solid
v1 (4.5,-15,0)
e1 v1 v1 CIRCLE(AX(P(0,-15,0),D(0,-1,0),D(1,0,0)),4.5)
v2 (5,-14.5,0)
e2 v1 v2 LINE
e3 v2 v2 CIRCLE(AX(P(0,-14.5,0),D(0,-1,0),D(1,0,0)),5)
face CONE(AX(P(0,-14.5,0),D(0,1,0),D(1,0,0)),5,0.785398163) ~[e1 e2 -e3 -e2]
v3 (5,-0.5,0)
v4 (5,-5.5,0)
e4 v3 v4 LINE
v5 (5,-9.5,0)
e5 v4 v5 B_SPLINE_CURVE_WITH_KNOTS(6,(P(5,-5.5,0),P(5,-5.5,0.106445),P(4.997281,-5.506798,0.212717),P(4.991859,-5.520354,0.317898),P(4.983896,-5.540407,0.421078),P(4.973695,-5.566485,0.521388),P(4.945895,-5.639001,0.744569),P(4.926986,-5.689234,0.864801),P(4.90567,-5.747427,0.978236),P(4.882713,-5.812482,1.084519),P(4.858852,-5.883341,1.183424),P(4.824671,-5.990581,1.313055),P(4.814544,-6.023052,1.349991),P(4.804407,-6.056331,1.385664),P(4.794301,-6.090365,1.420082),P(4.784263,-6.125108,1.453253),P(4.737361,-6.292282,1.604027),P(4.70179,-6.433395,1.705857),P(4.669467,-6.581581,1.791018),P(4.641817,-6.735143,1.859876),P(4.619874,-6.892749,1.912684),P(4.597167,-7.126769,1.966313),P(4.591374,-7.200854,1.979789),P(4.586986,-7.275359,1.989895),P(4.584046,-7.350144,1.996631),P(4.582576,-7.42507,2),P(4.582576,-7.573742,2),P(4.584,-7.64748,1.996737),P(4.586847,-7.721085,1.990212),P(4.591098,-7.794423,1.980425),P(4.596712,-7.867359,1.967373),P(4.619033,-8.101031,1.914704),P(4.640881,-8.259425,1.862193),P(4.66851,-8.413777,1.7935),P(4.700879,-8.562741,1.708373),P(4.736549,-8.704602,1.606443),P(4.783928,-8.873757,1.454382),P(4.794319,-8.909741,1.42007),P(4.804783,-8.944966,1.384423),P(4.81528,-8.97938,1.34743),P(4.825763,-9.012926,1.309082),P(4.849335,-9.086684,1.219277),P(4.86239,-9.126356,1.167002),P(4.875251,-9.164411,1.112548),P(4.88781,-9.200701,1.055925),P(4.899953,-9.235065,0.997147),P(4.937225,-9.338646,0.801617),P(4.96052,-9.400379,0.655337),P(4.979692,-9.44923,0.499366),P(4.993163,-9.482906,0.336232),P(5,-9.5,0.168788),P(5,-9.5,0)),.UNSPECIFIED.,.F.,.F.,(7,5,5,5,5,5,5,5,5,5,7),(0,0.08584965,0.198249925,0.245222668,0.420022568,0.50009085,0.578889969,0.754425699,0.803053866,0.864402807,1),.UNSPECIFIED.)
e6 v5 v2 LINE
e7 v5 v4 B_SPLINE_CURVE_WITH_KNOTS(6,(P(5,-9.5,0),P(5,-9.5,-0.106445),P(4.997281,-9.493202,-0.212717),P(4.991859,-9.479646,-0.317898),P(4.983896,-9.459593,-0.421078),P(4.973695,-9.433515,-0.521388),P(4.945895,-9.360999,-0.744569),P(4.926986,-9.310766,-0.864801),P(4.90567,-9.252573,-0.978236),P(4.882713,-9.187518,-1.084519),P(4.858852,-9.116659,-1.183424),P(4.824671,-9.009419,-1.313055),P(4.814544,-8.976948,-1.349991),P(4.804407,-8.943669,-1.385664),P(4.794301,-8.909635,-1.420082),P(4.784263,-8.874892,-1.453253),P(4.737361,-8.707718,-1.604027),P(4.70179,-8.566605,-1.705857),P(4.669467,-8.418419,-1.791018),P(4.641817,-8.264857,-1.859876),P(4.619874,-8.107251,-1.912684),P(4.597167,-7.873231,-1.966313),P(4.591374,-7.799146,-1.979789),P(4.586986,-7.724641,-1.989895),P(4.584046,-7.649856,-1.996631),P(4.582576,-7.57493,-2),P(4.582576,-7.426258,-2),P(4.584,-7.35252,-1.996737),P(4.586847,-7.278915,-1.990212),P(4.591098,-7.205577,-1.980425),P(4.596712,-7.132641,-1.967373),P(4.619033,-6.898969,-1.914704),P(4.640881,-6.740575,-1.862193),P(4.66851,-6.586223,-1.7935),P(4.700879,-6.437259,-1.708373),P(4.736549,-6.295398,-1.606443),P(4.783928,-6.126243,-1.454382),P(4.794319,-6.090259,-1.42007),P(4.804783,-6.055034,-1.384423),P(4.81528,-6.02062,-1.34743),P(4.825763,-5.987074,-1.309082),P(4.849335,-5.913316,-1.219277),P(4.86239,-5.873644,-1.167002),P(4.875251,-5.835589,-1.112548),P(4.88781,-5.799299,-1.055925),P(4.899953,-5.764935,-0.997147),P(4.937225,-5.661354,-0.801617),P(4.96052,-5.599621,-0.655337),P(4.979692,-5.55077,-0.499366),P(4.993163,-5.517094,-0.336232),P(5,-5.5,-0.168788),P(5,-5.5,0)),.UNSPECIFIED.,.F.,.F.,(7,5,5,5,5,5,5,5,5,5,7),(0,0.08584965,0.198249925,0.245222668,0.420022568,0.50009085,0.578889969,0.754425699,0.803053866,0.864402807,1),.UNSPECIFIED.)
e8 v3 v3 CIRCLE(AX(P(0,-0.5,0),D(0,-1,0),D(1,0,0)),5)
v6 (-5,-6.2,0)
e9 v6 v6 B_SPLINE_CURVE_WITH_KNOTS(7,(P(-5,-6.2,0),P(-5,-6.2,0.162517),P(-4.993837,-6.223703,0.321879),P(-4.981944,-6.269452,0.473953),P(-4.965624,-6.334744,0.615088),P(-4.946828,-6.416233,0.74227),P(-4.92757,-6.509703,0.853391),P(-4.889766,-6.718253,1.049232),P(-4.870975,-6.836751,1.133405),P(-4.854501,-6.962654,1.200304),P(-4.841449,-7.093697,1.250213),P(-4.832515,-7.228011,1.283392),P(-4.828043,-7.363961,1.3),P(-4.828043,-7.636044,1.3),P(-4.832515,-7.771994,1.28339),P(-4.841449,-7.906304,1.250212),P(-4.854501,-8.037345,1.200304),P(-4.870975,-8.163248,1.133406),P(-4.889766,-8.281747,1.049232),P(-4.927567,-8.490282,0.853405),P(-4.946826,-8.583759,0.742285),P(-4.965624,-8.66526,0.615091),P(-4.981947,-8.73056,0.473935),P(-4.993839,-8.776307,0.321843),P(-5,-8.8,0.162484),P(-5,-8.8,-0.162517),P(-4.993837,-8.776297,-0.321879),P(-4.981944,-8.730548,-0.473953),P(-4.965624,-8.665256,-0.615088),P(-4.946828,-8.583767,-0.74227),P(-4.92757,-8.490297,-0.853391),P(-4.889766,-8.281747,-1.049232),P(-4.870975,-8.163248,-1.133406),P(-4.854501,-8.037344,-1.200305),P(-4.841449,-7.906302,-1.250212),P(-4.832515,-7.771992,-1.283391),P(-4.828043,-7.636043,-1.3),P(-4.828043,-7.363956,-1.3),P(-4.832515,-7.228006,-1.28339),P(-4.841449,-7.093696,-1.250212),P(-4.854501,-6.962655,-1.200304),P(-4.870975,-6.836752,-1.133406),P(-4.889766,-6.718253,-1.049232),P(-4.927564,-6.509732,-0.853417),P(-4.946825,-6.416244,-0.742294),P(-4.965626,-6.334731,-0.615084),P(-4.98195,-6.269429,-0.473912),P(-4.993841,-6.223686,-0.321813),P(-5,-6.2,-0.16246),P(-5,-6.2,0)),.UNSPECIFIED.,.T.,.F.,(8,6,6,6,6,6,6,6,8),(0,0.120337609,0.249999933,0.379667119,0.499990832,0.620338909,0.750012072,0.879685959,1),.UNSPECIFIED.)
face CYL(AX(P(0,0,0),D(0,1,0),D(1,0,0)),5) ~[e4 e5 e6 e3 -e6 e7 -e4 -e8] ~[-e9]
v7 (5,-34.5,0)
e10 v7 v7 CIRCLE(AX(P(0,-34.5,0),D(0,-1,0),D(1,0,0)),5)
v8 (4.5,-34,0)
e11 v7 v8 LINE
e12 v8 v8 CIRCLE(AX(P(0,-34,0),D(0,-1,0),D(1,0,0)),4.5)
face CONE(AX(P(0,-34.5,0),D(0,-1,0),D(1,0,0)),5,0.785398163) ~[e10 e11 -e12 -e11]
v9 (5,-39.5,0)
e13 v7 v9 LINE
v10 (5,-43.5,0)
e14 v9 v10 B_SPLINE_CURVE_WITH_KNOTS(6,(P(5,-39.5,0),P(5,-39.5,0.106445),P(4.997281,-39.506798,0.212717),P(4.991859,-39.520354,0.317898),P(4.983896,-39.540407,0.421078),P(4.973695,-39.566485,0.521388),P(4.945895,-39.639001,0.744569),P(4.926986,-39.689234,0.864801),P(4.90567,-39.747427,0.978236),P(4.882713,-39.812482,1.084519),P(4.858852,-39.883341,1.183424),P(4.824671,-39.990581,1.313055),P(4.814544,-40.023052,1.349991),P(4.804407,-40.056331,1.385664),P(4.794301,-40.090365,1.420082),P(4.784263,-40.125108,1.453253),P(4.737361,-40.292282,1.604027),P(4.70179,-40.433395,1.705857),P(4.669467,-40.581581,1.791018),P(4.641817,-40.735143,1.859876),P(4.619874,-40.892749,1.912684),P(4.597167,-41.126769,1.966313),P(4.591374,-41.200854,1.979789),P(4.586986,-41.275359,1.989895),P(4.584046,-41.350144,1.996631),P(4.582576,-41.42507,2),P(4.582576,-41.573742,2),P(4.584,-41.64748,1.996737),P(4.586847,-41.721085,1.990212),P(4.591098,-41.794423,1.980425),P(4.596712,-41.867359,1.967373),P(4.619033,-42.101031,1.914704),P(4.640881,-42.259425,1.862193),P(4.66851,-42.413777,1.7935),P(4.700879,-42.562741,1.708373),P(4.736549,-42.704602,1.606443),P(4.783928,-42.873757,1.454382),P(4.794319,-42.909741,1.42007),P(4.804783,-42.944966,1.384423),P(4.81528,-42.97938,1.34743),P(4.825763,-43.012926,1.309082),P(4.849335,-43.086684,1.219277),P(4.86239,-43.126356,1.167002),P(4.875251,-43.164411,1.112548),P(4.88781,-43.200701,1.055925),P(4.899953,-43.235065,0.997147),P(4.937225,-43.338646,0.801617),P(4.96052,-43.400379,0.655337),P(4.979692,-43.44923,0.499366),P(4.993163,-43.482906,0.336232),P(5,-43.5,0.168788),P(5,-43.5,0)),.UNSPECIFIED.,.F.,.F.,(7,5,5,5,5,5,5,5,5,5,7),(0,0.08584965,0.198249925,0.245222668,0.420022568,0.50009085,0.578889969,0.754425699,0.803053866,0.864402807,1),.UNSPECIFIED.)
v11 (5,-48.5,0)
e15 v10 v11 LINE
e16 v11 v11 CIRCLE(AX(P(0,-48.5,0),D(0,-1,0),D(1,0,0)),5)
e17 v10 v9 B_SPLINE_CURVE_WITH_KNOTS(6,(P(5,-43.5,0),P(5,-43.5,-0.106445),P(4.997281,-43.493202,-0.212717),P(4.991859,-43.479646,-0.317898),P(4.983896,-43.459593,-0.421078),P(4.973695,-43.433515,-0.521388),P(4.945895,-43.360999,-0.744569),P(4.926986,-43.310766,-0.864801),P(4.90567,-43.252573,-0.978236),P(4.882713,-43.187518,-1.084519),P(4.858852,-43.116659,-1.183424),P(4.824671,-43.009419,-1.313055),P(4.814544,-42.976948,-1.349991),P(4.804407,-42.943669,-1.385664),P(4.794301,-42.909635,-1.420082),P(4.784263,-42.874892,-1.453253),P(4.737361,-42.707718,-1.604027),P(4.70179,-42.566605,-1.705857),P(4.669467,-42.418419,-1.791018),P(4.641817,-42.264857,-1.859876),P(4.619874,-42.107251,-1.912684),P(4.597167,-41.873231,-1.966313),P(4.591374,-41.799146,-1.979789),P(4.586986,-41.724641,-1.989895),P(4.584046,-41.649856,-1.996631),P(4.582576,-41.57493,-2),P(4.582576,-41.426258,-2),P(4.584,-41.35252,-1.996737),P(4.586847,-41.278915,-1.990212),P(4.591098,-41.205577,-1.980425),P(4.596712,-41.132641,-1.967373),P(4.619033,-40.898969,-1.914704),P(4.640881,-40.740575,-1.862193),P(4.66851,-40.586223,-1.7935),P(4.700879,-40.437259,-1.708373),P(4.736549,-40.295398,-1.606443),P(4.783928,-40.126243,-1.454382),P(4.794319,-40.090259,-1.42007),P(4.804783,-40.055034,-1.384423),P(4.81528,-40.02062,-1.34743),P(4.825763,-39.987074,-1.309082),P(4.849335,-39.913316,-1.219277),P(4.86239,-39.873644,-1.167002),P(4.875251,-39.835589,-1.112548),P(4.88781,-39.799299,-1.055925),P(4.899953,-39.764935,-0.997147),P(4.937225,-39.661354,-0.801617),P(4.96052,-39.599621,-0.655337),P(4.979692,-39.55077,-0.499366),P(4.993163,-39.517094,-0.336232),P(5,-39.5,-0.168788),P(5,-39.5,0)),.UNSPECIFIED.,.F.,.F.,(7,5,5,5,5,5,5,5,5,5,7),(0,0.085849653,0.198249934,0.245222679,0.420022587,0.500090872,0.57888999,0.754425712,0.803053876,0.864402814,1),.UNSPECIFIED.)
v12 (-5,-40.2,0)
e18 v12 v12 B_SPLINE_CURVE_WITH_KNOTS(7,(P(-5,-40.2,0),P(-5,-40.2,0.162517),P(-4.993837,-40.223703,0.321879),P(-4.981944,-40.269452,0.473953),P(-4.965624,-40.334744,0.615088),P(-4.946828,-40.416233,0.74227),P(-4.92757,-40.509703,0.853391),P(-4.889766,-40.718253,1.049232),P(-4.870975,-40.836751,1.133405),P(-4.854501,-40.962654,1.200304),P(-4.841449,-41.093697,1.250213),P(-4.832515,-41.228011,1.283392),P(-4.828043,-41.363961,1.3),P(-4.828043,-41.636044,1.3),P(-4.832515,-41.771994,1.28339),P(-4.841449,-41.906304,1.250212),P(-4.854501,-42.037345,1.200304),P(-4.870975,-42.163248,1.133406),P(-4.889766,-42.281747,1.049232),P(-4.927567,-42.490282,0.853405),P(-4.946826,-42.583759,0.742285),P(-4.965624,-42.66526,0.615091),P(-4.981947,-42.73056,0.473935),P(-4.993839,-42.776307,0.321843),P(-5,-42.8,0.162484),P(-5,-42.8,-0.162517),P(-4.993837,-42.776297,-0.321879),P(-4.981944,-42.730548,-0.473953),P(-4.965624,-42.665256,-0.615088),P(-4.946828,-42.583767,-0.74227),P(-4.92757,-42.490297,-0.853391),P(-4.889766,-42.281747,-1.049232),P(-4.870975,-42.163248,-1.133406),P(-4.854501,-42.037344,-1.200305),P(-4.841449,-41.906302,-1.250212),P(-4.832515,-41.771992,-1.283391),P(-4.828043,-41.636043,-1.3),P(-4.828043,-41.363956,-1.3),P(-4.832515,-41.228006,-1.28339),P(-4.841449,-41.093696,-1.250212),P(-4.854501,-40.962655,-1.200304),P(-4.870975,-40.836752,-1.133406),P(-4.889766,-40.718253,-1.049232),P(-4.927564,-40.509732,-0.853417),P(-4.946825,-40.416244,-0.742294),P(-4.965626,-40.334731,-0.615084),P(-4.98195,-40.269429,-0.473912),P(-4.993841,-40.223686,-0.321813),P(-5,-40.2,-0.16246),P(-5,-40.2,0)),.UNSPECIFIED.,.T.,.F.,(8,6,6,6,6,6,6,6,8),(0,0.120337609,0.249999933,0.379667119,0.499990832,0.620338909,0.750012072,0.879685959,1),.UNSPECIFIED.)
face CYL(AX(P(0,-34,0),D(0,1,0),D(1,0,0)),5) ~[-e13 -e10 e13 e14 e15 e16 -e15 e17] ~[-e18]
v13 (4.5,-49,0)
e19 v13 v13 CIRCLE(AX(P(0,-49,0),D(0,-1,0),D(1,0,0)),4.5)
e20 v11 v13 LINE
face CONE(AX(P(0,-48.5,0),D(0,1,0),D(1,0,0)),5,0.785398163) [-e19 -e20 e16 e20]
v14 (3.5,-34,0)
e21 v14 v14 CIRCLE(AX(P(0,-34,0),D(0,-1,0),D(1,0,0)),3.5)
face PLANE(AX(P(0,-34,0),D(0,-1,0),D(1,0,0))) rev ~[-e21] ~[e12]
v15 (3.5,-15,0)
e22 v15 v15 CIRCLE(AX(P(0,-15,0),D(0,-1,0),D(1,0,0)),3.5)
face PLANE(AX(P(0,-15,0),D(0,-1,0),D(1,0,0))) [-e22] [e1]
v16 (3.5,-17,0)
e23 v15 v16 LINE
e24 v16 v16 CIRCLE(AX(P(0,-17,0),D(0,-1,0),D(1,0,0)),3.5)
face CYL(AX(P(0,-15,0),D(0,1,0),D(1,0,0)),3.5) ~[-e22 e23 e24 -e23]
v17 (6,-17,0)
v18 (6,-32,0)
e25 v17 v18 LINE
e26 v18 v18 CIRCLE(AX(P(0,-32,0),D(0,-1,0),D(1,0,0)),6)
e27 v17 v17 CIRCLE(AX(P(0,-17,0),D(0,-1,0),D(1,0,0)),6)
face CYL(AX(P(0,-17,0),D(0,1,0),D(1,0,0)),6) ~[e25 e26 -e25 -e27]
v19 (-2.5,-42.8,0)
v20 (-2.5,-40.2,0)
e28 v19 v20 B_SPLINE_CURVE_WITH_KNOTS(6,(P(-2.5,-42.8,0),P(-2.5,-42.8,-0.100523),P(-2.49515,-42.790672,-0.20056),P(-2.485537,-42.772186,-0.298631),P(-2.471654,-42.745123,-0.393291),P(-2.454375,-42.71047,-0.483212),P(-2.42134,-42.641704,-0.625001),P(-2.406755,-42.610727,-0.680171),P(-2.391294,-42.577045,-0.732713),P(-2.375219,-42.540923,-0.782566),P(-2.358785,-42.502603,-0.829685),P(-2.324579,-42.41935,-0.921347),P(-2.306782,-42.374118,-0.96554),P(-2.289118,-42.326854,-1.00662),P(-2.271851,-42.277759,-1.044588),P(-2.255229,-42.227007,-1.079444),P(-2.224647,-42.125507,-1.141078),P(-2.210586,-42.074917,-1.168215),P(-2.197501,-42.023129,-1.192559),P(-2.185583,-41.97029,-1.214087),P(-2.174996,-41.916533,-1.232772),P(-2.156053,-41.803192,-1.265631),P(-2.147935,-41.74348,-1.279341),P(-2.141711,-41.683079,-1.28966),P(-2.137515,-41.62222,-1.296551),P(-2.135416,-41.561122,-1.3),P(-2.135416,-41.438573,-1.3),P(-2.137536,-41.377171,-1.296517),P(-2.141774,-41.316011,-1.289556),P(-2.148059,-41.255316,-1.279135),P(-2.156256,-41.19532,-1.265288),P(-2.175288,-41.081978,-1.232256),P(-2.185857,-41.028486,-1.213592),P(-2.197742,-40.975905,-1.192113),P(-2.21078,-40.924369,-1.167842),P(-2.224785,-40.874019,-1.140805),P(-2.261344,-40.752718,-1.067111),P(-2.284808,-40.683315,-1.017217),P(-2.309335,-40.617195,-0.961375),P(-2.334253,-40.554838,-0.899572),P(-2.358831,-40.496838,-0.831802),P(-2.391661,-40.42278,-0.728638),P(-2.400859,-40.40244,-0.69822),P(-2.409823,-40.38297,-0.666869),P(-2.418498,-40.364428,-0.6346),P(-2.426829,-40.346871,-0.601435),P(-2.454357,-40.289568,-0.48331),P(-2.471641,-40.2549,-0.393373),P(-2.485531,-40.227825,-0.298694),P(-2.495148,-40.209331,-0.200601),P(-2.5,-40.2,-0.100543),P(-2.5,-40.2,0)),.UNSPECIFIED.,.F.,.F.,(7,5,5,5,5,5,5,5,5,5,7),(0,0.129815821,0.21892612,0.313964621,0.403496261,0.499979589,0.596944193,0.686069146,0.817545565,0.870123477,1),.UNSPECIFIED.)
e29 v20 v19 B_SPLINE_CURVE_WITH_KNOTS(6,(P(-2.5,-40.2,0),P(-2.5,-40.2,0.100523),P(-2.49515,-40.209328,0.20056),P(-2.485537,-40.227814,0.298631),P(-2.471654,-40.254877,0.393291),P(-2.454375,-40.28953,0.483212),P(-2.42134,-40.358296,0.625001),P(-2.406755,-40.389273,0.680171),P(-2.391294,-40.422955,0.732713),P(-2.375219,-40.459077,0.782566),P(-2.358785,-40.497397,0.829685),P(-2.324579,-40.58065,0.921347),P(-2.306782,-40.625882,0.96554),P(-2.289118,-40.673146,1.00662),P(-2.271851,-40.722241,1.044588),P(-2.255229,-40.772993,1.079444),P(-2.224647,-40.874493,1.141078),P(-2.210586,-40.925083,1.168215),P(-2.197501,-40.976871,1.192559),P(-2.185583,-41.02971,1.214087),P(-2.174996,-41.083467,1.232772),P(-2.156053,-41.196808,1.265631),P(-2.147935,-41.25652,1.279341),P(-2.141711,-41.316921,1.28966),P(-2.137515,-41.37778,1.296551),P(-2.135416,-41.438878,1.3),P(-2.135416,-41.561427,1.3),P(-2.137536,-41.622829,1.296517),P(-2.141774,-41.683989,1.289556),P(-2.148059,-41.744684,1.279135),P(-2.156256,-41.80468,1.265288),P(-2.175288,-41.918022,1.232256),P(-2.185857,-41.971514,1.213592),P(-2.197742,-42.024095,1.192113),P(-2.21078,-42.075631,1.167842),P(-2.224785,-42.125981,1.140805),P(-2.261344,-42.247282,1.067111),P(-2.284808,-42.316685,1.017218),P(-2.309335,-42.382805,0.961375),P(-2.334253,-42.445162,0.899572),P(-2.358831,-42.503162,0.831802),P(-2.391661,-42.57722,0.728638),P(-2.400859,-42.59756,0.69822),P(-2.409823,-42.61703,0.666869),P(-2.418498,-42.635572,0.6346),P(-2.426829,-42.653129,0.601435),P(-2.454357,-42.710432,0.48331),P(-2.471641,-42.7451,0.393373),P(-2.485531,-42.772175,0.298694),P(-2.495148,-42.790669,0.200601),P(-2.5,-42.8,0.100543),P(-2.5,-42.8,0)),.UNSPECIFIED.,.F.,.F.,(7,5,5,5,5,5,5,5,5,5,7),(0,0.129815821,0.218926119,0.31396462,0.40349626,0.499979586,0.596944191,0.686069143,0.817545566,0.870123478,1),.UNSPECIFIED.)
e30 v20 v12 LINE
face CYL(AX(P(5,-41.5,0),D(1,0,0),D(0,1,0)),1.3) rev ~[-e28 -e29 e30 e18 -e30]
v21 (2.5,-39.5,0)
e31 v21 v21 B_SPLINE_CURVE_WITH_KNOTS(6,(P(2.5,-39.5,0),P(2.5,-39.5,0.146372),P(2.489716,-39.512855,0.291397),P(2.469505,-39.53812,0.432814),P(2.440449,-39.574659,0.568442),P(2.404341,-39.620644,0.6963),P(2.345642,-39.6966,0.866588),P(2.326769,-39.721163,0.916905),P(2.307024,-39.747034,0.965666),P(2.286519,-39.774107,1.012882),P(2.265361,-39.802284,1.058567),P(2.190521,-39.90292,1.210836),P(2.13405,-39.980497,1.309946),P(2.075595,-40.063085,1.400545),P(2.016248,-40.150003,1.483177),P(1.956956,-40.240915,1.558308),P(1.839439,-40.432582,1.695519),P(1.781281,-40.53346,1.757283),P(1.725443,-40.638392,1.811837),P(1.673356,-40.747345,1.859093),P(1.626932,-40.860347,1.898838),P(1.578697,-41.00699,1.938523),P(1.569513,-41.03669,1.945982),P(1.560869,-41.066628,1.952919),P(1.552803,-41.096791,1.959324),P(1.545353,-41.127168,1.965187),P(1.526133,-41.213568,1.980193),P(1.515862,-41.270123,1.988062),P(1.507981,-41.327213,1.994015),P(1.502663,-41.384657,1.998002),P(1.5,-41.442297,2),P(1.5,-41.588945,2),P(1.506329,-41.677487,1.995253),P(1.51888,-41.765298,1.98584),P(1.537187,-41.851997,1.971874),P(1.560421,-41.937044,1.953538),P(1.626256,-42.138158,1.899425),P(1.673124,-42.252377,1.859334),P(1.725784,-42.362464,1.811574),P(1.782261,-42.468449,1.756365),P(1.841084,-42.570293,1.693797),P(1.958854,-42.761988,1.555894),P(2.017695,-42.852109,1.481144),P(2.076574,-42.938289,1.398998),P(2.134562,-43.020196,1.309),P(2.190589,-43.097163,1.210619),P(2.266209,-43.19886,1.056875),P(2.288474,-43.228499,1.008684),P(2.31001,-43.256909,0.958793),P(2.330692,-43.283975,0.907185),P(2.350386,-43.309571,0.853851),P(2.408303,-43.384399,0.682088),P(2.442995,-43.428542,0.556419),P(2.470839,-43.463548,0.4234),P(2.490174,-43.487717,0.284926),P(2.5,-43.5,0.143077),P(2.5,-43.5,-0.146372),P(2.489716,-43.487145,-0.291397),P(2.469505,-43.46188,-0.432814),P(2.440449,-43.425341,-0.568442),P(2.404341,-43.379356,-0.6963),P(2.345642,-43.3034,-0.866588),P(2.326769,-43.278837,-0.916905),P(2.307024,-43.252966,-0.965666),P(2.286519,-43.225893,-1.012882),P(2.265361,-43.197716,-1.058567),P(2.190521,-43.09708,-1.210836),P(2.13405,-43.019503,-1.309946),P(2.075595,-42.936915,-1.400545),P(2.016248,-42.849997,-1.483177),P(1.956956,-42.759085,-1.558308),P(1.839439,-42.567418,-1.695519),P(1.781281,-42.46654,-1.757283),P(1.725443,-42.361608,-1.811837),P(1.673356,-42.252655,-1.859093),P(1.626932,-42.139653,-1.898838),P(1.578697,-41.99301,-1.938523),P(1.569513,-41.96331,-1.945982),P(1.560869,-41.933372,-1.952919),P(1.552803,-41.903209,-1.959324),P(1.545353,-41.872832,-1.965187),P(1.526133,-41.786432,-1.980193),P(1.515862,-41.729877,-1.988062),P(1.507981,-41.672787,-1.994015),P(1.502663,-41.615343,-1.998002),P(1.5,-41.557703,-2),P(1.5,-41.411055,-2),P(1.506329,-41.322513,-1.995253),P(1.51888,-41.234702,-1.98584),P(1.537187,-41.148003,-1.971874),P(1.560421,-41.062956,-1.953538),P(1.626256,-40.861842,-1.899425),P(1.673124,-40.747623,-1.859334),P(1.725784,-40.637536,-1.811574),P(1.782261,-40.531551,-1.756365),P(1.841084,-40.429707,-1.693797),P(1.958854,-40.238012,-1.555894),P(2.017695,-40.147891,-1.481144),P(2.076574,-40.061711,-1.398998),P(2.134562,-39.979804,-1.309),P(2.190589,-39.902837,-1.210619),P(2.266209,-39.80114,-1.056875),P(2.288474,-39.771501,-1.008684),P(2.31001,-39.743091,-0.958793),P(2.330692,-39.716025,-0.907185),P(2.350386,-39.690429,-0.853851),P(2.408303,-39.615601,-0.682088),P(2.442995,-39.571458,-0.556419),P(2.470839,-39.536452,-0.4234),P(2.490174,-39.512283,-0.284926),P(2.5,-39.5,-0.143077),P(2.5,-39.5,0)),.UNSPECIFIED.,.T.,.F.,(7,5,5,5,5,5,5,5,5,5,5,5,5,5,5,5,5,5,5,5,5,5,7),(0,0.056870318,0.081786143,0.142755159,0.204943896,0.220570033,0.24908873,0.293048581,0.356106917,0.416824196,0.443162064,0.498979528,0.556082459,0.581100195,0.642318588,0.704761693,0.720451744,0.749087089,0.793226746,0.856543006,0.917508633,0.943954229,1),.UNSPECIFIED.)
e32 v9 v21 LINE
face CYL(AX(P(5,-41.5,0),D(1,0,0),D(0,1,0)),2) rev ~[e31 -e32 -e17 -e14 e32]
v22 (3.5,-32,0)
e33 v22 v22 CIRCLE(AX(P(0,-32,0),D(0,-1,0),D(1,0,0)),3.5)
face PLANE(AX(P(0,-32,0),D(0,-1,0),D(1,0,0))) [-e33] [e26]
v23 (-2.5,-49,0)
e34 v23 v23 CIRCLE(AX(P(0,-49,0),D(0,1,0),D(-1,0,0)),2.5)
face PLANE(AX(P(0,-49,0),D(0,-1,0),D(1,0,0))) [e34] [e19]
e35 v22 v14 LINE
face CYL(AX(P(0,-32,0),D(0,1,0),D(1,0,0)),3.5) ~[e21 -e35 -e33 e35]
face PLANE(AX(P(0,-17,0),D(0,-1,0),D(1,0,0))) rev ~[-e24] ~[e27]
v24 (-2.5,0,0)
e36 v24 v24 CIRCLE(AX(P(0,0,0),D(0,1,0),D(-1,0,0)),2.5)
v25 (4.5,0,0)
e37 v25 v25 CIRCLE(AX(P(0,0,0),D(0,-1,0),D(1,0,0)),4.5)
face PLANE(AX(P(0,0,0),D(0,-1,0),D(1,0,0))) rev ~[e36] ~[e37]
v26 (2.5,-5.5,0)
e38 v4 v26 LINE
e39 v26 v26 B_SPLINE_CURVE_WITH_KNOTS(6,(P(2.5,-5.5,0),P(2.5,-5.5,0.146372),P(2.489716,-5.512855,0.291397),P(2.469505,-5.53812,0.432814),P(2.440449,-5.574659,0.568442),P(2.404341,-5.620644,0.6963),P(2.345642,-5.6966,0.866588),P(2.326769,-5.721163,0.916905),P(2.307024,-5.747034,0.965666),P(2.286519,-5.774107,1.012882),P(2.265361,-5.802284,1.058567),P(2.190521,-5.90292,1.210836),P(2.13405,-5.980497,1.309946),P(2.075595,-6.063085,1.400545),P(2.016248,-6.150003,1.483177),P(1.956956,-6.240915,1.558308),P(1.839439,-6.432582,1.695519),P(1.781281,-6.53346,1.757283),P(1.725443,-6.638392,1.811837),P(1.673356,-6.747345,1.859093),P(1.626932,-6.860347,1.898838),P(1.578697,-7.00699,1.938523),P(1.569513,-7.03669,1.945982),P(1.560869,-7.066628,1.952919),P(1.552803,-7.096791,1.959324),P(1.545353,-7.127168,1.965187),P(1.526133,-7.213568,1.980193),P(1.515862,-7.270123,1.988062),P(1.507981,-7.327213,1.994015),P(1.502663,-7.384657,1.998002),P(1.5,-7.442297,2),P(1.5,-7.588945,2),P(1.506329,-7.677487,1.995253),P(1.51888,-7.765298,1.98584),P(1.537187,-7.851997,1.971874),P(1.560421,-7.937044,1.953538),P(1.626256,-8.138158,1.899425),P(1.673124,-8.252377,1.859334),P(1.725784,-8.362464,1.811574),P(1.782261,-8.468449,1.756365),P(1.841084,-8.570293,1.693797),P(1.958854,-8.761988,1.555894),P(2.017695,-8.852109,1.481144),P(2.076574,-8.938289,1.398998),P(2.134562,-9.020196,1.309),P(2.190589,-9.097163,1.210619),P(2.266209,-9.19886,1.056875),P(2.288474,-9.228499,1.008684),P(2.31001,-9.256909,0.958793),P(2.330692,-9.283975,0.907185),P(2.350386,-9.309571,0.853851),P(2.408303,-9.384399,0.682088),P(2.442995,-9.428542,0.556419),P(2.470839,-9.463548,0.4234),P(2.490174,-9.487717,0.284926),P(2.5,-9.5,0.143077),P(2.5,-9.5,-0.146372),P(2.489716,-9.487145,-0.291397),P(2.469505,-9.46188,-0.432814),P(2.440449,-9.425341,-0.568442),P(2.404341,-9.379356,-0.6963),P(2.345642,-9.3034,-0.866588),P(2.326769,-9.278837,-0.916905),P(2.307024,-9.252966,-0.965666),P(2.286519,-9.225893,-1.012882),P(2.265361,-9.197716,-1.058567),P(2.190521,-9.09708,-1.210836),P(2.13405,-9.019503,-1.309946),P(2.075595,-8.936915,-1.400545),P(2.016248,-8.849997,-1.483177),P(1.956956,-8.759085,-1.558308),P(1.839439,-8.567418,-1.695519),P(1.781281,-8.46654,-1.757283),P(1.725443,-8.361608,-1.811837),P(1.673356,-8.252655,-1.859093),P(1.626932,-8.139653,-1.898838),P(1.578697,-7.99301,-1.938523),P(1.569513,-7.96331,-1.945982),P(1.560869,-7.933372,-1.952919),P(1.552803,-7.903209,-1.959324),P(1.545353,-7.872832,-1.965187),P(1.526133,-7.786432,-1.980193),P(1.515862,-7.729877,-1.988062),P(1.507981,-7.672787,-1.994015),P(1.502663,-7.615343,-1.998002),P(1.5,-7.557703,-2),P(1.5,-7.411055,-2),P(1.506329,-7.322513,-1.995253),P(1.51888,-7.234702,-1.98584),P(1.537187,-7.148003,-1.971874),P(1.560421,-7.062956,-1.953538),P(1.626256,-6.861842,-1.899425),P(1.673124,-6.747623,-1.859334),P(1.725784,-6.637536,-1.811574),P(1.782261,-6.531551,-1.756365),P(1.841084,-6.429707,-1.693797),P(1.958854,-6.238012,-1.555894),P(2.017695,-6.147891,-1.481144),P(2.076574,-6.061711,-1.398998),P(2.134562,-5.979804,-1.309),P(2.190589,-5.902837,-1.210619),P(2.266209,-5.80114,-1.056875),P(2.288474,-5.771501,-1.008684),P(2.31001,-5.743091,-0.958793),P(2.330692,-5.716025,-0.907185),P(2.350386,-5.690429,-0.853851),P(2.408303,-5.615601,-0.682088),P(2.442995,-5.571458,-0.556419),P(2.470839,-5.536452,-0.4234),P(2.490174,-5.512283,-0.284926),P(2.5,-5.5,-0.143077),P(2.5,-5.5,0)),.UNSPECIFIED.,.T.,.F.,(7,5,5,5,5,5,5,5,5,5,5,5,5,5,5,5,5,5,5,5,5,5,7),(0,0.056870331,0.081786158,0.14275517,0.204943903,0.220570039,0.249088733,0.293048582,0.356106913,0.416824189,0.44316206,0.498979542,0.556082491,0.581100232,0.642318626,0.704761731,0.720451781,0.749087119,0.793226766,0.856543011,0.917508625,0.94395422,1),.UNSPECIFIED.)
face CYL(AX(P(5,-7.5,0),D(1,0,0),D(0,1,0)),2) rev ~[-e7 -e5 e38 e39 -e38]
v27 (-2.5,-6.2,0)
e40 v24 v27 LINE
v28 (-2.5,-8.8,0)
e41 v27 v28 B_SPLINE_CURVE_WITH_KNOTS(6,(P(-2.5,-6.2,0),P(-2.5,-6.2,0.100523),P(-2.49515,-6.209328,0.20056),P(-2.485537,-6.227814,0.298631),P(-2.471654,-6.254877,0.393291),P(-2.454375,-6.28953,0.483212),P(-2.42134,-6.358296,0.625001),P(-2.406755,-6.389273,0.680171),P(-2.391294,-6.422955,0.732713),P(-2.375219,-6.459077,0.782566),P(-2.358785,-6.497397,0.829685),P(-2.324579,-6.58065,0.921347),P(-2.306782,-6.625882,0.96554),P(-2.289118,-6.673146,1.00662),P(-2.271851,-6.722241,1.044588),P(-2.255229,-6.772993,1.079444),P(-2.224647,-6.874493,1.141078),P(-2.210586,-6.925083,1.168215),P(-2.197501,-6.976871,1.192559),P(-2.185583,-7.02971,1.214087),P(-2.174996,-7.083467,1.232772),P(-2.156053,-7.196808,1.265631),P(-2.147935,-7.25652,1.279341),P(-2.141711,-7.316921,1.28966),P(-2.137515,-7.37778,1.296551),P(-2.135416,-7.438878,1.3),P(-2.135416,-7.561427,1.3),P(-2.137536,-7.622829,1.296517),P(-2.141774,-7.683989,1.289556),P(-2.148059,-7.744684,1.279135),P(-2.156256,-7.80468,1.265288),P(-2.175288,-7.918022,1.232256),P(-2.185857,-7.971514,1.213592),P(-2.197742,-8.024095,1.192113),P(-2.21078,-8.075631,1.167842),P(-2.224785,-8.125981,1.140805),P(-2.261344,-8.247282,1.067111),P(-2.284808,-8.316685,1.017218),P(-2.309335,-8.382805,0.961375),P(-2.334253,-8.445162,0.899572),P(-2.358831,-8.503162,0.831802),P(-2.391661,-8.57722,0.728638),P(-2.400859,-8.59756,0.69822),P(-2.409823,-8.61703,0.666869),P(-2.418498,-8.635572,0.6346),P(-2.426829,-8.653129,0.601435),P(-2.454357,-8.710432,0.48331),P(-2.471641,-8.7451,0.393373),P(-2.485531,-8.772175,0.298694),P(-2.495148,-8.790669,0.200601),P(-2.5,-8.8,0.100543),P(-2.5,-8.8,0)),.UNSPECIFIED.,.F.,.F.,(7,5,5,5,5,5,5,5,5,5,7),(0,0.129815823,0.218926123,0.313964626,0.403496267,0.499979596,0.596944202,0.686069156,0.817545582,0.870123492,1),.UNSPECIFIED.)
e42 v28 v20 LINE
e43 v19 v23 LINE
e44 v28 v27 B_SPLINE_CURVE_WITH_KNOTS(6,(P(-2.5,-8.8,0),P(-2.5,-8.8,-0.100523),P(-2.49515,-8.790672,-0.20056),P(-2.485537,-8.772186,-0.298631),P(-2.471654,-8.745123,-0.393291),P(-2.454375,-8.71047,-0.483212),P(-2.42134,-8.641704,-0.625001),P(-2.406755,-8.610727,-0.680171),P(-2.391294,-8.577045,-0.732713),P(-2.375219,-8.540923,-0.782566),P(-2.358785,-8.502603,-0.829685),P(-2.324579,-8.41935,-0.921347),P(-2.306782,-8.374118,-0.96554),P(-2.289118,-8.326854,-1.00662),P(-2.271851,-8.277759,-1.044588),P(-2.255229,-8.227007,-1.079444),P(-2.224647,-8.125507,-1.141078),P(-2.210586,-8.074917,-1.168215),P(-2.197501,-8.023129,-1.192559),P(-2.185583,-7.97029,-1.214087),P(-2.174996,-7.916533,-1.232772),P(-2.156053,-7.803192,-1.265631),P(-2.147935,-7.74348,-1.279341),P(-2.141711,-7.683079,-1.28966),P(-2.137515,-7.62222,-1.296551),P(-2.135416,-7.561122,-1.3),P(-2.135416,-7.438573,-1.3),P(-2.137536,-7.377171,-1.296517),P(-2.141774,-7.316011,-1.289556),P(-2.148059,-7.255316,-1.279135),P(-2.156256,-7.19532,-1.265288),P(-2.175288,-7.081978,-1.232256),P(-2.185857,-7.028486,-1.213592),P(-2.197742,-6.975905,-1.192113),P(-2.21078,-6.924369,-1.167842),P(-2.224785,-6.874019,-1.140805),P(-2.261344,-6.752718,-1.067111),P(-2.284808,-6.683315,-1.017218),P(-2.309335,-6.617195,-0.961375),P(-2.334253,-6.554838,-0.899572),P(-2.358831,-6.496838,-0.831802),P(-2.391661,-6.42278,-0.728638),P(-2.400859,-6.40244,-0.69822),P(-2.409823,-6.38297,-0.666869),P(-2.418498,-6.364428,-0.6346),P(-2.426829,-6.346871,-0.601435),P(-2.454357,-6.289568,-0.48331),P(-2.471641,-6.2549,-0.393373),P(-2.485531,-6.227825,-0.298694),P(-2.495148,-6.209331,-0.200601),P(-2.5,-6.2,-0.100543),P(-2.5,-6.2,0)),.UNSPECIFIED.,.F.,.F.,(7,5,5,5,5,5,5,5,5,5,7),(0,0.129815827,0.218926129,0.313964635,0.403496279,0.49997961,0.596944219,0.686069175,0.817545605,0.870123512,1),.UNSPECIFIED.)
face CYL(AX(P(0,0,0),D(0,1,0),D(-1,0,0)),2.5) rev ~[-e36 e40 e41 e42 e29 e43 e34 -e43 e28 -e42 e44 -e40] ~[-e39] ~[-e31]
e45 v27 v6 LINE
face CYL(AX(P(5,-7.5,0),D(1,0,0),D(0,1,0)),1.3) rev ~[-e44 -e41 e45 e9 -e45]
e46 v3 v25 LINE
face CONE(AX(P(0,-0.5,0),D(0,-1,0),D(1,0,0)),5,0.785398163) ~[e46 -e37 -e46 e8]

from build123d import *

# Parameters (mm, degrees)
F0_R      = 5
F1_DEPTH  = 15
F2_R      = 3.5
F3_DEPTH  = 2
F4_R      = 6
F5_DEPTH  = 15
F6_R      = 3.5
F7_DEPTH  = 2
F8_R      = 5
F9_DEPTH  = 15
F10_SIZE  = 0.5
F12_R     = 1.3
F13_DEPTH = 25
F12_R_2   = 2
F14_DEPTH = 5
F15_R     = 2.5
F16_DEPTH = 50


with BuildPart() as f1:
    # F0 (on Front) → F1 (new body)
    with BuildSketch(Plane.XZ):
        Circle(F0_R)
    extrude(amount=F1_DEPTH)

    # F2 (on face) → F3 (join)
    with BuildSketch(Plane.XZ.offset(15)):
        Circle(F2_R)
    extrude(amount=F3_DEPTH)

    # F4 (on face) → F5 (join)
    with BuildSketch(Plane.XZ.offset(17)):
        Circle(F4_R)
    extrude(amount=F5_DEPTH)

    # F6 (on face) → F7 (join)
    with BuildSketch(Plane.XZ.offset(32)):
        Circle(F6_R)
    extrude(amount=F7_DEPTH)

    # F8 (on face) → F9 (join)
    with BuildSketch(Plane.XZ.offset(34)):
        Circle(F8_R)
    extrude(amount=F9_DEPTH)

    # F10
    f10_edges = [f1.edges().sort_by_distance(p)[0] for p in [
        (-5, -49, 0),
        (-5, -34, 0),
        (-5, 0, 0),
        (-5, -15, 0),
    ]]
    chamfer(f10_edges, length=F10_SIZE)

    # F12 (on offset) → F13 (cut)
    with BuildSketch(Plane.YZ.offset(5)):
        with Locations((-7.5, 0)):
            Circle(F12_R)
        with Locations((-41.5, 0)):
            Circle(F12_R)
    extrude(amount=-F13_DEPTH, mode=Mode.SUBTRACT)

    # F12 (on offset) → F14 (cut)
    with BuildSketch(Plane.YZ.offset(5)):
        with Locations((-41.5, 0)):
            Circle(F12_R_2)
        with Locations((-41.5, 0)):
            Circle(F12_R, mode=Mode.SUBTRACT)
        with Locations((-7.5, 0)):
            Circle(F12_R_2)
        with Locations((-7.5, 0)):
            Circle(F12_R, mode=Mode.SUBTRACT)
    extrude(amount=-F14_DEPTH, mode=Mode.SUBTRACT)

    # F15 (on face) → F16 (cut)
    with BuildSketch(Plane(origin=(0, 0, 0), x_dir=(-1, 0, 0), z_dir=(0, 1, 0))):
        Circle(F15_R)
    extrude(amount=-F16_DEPTH, mode=Mode.SUBTRACT)


solid = f1.part
